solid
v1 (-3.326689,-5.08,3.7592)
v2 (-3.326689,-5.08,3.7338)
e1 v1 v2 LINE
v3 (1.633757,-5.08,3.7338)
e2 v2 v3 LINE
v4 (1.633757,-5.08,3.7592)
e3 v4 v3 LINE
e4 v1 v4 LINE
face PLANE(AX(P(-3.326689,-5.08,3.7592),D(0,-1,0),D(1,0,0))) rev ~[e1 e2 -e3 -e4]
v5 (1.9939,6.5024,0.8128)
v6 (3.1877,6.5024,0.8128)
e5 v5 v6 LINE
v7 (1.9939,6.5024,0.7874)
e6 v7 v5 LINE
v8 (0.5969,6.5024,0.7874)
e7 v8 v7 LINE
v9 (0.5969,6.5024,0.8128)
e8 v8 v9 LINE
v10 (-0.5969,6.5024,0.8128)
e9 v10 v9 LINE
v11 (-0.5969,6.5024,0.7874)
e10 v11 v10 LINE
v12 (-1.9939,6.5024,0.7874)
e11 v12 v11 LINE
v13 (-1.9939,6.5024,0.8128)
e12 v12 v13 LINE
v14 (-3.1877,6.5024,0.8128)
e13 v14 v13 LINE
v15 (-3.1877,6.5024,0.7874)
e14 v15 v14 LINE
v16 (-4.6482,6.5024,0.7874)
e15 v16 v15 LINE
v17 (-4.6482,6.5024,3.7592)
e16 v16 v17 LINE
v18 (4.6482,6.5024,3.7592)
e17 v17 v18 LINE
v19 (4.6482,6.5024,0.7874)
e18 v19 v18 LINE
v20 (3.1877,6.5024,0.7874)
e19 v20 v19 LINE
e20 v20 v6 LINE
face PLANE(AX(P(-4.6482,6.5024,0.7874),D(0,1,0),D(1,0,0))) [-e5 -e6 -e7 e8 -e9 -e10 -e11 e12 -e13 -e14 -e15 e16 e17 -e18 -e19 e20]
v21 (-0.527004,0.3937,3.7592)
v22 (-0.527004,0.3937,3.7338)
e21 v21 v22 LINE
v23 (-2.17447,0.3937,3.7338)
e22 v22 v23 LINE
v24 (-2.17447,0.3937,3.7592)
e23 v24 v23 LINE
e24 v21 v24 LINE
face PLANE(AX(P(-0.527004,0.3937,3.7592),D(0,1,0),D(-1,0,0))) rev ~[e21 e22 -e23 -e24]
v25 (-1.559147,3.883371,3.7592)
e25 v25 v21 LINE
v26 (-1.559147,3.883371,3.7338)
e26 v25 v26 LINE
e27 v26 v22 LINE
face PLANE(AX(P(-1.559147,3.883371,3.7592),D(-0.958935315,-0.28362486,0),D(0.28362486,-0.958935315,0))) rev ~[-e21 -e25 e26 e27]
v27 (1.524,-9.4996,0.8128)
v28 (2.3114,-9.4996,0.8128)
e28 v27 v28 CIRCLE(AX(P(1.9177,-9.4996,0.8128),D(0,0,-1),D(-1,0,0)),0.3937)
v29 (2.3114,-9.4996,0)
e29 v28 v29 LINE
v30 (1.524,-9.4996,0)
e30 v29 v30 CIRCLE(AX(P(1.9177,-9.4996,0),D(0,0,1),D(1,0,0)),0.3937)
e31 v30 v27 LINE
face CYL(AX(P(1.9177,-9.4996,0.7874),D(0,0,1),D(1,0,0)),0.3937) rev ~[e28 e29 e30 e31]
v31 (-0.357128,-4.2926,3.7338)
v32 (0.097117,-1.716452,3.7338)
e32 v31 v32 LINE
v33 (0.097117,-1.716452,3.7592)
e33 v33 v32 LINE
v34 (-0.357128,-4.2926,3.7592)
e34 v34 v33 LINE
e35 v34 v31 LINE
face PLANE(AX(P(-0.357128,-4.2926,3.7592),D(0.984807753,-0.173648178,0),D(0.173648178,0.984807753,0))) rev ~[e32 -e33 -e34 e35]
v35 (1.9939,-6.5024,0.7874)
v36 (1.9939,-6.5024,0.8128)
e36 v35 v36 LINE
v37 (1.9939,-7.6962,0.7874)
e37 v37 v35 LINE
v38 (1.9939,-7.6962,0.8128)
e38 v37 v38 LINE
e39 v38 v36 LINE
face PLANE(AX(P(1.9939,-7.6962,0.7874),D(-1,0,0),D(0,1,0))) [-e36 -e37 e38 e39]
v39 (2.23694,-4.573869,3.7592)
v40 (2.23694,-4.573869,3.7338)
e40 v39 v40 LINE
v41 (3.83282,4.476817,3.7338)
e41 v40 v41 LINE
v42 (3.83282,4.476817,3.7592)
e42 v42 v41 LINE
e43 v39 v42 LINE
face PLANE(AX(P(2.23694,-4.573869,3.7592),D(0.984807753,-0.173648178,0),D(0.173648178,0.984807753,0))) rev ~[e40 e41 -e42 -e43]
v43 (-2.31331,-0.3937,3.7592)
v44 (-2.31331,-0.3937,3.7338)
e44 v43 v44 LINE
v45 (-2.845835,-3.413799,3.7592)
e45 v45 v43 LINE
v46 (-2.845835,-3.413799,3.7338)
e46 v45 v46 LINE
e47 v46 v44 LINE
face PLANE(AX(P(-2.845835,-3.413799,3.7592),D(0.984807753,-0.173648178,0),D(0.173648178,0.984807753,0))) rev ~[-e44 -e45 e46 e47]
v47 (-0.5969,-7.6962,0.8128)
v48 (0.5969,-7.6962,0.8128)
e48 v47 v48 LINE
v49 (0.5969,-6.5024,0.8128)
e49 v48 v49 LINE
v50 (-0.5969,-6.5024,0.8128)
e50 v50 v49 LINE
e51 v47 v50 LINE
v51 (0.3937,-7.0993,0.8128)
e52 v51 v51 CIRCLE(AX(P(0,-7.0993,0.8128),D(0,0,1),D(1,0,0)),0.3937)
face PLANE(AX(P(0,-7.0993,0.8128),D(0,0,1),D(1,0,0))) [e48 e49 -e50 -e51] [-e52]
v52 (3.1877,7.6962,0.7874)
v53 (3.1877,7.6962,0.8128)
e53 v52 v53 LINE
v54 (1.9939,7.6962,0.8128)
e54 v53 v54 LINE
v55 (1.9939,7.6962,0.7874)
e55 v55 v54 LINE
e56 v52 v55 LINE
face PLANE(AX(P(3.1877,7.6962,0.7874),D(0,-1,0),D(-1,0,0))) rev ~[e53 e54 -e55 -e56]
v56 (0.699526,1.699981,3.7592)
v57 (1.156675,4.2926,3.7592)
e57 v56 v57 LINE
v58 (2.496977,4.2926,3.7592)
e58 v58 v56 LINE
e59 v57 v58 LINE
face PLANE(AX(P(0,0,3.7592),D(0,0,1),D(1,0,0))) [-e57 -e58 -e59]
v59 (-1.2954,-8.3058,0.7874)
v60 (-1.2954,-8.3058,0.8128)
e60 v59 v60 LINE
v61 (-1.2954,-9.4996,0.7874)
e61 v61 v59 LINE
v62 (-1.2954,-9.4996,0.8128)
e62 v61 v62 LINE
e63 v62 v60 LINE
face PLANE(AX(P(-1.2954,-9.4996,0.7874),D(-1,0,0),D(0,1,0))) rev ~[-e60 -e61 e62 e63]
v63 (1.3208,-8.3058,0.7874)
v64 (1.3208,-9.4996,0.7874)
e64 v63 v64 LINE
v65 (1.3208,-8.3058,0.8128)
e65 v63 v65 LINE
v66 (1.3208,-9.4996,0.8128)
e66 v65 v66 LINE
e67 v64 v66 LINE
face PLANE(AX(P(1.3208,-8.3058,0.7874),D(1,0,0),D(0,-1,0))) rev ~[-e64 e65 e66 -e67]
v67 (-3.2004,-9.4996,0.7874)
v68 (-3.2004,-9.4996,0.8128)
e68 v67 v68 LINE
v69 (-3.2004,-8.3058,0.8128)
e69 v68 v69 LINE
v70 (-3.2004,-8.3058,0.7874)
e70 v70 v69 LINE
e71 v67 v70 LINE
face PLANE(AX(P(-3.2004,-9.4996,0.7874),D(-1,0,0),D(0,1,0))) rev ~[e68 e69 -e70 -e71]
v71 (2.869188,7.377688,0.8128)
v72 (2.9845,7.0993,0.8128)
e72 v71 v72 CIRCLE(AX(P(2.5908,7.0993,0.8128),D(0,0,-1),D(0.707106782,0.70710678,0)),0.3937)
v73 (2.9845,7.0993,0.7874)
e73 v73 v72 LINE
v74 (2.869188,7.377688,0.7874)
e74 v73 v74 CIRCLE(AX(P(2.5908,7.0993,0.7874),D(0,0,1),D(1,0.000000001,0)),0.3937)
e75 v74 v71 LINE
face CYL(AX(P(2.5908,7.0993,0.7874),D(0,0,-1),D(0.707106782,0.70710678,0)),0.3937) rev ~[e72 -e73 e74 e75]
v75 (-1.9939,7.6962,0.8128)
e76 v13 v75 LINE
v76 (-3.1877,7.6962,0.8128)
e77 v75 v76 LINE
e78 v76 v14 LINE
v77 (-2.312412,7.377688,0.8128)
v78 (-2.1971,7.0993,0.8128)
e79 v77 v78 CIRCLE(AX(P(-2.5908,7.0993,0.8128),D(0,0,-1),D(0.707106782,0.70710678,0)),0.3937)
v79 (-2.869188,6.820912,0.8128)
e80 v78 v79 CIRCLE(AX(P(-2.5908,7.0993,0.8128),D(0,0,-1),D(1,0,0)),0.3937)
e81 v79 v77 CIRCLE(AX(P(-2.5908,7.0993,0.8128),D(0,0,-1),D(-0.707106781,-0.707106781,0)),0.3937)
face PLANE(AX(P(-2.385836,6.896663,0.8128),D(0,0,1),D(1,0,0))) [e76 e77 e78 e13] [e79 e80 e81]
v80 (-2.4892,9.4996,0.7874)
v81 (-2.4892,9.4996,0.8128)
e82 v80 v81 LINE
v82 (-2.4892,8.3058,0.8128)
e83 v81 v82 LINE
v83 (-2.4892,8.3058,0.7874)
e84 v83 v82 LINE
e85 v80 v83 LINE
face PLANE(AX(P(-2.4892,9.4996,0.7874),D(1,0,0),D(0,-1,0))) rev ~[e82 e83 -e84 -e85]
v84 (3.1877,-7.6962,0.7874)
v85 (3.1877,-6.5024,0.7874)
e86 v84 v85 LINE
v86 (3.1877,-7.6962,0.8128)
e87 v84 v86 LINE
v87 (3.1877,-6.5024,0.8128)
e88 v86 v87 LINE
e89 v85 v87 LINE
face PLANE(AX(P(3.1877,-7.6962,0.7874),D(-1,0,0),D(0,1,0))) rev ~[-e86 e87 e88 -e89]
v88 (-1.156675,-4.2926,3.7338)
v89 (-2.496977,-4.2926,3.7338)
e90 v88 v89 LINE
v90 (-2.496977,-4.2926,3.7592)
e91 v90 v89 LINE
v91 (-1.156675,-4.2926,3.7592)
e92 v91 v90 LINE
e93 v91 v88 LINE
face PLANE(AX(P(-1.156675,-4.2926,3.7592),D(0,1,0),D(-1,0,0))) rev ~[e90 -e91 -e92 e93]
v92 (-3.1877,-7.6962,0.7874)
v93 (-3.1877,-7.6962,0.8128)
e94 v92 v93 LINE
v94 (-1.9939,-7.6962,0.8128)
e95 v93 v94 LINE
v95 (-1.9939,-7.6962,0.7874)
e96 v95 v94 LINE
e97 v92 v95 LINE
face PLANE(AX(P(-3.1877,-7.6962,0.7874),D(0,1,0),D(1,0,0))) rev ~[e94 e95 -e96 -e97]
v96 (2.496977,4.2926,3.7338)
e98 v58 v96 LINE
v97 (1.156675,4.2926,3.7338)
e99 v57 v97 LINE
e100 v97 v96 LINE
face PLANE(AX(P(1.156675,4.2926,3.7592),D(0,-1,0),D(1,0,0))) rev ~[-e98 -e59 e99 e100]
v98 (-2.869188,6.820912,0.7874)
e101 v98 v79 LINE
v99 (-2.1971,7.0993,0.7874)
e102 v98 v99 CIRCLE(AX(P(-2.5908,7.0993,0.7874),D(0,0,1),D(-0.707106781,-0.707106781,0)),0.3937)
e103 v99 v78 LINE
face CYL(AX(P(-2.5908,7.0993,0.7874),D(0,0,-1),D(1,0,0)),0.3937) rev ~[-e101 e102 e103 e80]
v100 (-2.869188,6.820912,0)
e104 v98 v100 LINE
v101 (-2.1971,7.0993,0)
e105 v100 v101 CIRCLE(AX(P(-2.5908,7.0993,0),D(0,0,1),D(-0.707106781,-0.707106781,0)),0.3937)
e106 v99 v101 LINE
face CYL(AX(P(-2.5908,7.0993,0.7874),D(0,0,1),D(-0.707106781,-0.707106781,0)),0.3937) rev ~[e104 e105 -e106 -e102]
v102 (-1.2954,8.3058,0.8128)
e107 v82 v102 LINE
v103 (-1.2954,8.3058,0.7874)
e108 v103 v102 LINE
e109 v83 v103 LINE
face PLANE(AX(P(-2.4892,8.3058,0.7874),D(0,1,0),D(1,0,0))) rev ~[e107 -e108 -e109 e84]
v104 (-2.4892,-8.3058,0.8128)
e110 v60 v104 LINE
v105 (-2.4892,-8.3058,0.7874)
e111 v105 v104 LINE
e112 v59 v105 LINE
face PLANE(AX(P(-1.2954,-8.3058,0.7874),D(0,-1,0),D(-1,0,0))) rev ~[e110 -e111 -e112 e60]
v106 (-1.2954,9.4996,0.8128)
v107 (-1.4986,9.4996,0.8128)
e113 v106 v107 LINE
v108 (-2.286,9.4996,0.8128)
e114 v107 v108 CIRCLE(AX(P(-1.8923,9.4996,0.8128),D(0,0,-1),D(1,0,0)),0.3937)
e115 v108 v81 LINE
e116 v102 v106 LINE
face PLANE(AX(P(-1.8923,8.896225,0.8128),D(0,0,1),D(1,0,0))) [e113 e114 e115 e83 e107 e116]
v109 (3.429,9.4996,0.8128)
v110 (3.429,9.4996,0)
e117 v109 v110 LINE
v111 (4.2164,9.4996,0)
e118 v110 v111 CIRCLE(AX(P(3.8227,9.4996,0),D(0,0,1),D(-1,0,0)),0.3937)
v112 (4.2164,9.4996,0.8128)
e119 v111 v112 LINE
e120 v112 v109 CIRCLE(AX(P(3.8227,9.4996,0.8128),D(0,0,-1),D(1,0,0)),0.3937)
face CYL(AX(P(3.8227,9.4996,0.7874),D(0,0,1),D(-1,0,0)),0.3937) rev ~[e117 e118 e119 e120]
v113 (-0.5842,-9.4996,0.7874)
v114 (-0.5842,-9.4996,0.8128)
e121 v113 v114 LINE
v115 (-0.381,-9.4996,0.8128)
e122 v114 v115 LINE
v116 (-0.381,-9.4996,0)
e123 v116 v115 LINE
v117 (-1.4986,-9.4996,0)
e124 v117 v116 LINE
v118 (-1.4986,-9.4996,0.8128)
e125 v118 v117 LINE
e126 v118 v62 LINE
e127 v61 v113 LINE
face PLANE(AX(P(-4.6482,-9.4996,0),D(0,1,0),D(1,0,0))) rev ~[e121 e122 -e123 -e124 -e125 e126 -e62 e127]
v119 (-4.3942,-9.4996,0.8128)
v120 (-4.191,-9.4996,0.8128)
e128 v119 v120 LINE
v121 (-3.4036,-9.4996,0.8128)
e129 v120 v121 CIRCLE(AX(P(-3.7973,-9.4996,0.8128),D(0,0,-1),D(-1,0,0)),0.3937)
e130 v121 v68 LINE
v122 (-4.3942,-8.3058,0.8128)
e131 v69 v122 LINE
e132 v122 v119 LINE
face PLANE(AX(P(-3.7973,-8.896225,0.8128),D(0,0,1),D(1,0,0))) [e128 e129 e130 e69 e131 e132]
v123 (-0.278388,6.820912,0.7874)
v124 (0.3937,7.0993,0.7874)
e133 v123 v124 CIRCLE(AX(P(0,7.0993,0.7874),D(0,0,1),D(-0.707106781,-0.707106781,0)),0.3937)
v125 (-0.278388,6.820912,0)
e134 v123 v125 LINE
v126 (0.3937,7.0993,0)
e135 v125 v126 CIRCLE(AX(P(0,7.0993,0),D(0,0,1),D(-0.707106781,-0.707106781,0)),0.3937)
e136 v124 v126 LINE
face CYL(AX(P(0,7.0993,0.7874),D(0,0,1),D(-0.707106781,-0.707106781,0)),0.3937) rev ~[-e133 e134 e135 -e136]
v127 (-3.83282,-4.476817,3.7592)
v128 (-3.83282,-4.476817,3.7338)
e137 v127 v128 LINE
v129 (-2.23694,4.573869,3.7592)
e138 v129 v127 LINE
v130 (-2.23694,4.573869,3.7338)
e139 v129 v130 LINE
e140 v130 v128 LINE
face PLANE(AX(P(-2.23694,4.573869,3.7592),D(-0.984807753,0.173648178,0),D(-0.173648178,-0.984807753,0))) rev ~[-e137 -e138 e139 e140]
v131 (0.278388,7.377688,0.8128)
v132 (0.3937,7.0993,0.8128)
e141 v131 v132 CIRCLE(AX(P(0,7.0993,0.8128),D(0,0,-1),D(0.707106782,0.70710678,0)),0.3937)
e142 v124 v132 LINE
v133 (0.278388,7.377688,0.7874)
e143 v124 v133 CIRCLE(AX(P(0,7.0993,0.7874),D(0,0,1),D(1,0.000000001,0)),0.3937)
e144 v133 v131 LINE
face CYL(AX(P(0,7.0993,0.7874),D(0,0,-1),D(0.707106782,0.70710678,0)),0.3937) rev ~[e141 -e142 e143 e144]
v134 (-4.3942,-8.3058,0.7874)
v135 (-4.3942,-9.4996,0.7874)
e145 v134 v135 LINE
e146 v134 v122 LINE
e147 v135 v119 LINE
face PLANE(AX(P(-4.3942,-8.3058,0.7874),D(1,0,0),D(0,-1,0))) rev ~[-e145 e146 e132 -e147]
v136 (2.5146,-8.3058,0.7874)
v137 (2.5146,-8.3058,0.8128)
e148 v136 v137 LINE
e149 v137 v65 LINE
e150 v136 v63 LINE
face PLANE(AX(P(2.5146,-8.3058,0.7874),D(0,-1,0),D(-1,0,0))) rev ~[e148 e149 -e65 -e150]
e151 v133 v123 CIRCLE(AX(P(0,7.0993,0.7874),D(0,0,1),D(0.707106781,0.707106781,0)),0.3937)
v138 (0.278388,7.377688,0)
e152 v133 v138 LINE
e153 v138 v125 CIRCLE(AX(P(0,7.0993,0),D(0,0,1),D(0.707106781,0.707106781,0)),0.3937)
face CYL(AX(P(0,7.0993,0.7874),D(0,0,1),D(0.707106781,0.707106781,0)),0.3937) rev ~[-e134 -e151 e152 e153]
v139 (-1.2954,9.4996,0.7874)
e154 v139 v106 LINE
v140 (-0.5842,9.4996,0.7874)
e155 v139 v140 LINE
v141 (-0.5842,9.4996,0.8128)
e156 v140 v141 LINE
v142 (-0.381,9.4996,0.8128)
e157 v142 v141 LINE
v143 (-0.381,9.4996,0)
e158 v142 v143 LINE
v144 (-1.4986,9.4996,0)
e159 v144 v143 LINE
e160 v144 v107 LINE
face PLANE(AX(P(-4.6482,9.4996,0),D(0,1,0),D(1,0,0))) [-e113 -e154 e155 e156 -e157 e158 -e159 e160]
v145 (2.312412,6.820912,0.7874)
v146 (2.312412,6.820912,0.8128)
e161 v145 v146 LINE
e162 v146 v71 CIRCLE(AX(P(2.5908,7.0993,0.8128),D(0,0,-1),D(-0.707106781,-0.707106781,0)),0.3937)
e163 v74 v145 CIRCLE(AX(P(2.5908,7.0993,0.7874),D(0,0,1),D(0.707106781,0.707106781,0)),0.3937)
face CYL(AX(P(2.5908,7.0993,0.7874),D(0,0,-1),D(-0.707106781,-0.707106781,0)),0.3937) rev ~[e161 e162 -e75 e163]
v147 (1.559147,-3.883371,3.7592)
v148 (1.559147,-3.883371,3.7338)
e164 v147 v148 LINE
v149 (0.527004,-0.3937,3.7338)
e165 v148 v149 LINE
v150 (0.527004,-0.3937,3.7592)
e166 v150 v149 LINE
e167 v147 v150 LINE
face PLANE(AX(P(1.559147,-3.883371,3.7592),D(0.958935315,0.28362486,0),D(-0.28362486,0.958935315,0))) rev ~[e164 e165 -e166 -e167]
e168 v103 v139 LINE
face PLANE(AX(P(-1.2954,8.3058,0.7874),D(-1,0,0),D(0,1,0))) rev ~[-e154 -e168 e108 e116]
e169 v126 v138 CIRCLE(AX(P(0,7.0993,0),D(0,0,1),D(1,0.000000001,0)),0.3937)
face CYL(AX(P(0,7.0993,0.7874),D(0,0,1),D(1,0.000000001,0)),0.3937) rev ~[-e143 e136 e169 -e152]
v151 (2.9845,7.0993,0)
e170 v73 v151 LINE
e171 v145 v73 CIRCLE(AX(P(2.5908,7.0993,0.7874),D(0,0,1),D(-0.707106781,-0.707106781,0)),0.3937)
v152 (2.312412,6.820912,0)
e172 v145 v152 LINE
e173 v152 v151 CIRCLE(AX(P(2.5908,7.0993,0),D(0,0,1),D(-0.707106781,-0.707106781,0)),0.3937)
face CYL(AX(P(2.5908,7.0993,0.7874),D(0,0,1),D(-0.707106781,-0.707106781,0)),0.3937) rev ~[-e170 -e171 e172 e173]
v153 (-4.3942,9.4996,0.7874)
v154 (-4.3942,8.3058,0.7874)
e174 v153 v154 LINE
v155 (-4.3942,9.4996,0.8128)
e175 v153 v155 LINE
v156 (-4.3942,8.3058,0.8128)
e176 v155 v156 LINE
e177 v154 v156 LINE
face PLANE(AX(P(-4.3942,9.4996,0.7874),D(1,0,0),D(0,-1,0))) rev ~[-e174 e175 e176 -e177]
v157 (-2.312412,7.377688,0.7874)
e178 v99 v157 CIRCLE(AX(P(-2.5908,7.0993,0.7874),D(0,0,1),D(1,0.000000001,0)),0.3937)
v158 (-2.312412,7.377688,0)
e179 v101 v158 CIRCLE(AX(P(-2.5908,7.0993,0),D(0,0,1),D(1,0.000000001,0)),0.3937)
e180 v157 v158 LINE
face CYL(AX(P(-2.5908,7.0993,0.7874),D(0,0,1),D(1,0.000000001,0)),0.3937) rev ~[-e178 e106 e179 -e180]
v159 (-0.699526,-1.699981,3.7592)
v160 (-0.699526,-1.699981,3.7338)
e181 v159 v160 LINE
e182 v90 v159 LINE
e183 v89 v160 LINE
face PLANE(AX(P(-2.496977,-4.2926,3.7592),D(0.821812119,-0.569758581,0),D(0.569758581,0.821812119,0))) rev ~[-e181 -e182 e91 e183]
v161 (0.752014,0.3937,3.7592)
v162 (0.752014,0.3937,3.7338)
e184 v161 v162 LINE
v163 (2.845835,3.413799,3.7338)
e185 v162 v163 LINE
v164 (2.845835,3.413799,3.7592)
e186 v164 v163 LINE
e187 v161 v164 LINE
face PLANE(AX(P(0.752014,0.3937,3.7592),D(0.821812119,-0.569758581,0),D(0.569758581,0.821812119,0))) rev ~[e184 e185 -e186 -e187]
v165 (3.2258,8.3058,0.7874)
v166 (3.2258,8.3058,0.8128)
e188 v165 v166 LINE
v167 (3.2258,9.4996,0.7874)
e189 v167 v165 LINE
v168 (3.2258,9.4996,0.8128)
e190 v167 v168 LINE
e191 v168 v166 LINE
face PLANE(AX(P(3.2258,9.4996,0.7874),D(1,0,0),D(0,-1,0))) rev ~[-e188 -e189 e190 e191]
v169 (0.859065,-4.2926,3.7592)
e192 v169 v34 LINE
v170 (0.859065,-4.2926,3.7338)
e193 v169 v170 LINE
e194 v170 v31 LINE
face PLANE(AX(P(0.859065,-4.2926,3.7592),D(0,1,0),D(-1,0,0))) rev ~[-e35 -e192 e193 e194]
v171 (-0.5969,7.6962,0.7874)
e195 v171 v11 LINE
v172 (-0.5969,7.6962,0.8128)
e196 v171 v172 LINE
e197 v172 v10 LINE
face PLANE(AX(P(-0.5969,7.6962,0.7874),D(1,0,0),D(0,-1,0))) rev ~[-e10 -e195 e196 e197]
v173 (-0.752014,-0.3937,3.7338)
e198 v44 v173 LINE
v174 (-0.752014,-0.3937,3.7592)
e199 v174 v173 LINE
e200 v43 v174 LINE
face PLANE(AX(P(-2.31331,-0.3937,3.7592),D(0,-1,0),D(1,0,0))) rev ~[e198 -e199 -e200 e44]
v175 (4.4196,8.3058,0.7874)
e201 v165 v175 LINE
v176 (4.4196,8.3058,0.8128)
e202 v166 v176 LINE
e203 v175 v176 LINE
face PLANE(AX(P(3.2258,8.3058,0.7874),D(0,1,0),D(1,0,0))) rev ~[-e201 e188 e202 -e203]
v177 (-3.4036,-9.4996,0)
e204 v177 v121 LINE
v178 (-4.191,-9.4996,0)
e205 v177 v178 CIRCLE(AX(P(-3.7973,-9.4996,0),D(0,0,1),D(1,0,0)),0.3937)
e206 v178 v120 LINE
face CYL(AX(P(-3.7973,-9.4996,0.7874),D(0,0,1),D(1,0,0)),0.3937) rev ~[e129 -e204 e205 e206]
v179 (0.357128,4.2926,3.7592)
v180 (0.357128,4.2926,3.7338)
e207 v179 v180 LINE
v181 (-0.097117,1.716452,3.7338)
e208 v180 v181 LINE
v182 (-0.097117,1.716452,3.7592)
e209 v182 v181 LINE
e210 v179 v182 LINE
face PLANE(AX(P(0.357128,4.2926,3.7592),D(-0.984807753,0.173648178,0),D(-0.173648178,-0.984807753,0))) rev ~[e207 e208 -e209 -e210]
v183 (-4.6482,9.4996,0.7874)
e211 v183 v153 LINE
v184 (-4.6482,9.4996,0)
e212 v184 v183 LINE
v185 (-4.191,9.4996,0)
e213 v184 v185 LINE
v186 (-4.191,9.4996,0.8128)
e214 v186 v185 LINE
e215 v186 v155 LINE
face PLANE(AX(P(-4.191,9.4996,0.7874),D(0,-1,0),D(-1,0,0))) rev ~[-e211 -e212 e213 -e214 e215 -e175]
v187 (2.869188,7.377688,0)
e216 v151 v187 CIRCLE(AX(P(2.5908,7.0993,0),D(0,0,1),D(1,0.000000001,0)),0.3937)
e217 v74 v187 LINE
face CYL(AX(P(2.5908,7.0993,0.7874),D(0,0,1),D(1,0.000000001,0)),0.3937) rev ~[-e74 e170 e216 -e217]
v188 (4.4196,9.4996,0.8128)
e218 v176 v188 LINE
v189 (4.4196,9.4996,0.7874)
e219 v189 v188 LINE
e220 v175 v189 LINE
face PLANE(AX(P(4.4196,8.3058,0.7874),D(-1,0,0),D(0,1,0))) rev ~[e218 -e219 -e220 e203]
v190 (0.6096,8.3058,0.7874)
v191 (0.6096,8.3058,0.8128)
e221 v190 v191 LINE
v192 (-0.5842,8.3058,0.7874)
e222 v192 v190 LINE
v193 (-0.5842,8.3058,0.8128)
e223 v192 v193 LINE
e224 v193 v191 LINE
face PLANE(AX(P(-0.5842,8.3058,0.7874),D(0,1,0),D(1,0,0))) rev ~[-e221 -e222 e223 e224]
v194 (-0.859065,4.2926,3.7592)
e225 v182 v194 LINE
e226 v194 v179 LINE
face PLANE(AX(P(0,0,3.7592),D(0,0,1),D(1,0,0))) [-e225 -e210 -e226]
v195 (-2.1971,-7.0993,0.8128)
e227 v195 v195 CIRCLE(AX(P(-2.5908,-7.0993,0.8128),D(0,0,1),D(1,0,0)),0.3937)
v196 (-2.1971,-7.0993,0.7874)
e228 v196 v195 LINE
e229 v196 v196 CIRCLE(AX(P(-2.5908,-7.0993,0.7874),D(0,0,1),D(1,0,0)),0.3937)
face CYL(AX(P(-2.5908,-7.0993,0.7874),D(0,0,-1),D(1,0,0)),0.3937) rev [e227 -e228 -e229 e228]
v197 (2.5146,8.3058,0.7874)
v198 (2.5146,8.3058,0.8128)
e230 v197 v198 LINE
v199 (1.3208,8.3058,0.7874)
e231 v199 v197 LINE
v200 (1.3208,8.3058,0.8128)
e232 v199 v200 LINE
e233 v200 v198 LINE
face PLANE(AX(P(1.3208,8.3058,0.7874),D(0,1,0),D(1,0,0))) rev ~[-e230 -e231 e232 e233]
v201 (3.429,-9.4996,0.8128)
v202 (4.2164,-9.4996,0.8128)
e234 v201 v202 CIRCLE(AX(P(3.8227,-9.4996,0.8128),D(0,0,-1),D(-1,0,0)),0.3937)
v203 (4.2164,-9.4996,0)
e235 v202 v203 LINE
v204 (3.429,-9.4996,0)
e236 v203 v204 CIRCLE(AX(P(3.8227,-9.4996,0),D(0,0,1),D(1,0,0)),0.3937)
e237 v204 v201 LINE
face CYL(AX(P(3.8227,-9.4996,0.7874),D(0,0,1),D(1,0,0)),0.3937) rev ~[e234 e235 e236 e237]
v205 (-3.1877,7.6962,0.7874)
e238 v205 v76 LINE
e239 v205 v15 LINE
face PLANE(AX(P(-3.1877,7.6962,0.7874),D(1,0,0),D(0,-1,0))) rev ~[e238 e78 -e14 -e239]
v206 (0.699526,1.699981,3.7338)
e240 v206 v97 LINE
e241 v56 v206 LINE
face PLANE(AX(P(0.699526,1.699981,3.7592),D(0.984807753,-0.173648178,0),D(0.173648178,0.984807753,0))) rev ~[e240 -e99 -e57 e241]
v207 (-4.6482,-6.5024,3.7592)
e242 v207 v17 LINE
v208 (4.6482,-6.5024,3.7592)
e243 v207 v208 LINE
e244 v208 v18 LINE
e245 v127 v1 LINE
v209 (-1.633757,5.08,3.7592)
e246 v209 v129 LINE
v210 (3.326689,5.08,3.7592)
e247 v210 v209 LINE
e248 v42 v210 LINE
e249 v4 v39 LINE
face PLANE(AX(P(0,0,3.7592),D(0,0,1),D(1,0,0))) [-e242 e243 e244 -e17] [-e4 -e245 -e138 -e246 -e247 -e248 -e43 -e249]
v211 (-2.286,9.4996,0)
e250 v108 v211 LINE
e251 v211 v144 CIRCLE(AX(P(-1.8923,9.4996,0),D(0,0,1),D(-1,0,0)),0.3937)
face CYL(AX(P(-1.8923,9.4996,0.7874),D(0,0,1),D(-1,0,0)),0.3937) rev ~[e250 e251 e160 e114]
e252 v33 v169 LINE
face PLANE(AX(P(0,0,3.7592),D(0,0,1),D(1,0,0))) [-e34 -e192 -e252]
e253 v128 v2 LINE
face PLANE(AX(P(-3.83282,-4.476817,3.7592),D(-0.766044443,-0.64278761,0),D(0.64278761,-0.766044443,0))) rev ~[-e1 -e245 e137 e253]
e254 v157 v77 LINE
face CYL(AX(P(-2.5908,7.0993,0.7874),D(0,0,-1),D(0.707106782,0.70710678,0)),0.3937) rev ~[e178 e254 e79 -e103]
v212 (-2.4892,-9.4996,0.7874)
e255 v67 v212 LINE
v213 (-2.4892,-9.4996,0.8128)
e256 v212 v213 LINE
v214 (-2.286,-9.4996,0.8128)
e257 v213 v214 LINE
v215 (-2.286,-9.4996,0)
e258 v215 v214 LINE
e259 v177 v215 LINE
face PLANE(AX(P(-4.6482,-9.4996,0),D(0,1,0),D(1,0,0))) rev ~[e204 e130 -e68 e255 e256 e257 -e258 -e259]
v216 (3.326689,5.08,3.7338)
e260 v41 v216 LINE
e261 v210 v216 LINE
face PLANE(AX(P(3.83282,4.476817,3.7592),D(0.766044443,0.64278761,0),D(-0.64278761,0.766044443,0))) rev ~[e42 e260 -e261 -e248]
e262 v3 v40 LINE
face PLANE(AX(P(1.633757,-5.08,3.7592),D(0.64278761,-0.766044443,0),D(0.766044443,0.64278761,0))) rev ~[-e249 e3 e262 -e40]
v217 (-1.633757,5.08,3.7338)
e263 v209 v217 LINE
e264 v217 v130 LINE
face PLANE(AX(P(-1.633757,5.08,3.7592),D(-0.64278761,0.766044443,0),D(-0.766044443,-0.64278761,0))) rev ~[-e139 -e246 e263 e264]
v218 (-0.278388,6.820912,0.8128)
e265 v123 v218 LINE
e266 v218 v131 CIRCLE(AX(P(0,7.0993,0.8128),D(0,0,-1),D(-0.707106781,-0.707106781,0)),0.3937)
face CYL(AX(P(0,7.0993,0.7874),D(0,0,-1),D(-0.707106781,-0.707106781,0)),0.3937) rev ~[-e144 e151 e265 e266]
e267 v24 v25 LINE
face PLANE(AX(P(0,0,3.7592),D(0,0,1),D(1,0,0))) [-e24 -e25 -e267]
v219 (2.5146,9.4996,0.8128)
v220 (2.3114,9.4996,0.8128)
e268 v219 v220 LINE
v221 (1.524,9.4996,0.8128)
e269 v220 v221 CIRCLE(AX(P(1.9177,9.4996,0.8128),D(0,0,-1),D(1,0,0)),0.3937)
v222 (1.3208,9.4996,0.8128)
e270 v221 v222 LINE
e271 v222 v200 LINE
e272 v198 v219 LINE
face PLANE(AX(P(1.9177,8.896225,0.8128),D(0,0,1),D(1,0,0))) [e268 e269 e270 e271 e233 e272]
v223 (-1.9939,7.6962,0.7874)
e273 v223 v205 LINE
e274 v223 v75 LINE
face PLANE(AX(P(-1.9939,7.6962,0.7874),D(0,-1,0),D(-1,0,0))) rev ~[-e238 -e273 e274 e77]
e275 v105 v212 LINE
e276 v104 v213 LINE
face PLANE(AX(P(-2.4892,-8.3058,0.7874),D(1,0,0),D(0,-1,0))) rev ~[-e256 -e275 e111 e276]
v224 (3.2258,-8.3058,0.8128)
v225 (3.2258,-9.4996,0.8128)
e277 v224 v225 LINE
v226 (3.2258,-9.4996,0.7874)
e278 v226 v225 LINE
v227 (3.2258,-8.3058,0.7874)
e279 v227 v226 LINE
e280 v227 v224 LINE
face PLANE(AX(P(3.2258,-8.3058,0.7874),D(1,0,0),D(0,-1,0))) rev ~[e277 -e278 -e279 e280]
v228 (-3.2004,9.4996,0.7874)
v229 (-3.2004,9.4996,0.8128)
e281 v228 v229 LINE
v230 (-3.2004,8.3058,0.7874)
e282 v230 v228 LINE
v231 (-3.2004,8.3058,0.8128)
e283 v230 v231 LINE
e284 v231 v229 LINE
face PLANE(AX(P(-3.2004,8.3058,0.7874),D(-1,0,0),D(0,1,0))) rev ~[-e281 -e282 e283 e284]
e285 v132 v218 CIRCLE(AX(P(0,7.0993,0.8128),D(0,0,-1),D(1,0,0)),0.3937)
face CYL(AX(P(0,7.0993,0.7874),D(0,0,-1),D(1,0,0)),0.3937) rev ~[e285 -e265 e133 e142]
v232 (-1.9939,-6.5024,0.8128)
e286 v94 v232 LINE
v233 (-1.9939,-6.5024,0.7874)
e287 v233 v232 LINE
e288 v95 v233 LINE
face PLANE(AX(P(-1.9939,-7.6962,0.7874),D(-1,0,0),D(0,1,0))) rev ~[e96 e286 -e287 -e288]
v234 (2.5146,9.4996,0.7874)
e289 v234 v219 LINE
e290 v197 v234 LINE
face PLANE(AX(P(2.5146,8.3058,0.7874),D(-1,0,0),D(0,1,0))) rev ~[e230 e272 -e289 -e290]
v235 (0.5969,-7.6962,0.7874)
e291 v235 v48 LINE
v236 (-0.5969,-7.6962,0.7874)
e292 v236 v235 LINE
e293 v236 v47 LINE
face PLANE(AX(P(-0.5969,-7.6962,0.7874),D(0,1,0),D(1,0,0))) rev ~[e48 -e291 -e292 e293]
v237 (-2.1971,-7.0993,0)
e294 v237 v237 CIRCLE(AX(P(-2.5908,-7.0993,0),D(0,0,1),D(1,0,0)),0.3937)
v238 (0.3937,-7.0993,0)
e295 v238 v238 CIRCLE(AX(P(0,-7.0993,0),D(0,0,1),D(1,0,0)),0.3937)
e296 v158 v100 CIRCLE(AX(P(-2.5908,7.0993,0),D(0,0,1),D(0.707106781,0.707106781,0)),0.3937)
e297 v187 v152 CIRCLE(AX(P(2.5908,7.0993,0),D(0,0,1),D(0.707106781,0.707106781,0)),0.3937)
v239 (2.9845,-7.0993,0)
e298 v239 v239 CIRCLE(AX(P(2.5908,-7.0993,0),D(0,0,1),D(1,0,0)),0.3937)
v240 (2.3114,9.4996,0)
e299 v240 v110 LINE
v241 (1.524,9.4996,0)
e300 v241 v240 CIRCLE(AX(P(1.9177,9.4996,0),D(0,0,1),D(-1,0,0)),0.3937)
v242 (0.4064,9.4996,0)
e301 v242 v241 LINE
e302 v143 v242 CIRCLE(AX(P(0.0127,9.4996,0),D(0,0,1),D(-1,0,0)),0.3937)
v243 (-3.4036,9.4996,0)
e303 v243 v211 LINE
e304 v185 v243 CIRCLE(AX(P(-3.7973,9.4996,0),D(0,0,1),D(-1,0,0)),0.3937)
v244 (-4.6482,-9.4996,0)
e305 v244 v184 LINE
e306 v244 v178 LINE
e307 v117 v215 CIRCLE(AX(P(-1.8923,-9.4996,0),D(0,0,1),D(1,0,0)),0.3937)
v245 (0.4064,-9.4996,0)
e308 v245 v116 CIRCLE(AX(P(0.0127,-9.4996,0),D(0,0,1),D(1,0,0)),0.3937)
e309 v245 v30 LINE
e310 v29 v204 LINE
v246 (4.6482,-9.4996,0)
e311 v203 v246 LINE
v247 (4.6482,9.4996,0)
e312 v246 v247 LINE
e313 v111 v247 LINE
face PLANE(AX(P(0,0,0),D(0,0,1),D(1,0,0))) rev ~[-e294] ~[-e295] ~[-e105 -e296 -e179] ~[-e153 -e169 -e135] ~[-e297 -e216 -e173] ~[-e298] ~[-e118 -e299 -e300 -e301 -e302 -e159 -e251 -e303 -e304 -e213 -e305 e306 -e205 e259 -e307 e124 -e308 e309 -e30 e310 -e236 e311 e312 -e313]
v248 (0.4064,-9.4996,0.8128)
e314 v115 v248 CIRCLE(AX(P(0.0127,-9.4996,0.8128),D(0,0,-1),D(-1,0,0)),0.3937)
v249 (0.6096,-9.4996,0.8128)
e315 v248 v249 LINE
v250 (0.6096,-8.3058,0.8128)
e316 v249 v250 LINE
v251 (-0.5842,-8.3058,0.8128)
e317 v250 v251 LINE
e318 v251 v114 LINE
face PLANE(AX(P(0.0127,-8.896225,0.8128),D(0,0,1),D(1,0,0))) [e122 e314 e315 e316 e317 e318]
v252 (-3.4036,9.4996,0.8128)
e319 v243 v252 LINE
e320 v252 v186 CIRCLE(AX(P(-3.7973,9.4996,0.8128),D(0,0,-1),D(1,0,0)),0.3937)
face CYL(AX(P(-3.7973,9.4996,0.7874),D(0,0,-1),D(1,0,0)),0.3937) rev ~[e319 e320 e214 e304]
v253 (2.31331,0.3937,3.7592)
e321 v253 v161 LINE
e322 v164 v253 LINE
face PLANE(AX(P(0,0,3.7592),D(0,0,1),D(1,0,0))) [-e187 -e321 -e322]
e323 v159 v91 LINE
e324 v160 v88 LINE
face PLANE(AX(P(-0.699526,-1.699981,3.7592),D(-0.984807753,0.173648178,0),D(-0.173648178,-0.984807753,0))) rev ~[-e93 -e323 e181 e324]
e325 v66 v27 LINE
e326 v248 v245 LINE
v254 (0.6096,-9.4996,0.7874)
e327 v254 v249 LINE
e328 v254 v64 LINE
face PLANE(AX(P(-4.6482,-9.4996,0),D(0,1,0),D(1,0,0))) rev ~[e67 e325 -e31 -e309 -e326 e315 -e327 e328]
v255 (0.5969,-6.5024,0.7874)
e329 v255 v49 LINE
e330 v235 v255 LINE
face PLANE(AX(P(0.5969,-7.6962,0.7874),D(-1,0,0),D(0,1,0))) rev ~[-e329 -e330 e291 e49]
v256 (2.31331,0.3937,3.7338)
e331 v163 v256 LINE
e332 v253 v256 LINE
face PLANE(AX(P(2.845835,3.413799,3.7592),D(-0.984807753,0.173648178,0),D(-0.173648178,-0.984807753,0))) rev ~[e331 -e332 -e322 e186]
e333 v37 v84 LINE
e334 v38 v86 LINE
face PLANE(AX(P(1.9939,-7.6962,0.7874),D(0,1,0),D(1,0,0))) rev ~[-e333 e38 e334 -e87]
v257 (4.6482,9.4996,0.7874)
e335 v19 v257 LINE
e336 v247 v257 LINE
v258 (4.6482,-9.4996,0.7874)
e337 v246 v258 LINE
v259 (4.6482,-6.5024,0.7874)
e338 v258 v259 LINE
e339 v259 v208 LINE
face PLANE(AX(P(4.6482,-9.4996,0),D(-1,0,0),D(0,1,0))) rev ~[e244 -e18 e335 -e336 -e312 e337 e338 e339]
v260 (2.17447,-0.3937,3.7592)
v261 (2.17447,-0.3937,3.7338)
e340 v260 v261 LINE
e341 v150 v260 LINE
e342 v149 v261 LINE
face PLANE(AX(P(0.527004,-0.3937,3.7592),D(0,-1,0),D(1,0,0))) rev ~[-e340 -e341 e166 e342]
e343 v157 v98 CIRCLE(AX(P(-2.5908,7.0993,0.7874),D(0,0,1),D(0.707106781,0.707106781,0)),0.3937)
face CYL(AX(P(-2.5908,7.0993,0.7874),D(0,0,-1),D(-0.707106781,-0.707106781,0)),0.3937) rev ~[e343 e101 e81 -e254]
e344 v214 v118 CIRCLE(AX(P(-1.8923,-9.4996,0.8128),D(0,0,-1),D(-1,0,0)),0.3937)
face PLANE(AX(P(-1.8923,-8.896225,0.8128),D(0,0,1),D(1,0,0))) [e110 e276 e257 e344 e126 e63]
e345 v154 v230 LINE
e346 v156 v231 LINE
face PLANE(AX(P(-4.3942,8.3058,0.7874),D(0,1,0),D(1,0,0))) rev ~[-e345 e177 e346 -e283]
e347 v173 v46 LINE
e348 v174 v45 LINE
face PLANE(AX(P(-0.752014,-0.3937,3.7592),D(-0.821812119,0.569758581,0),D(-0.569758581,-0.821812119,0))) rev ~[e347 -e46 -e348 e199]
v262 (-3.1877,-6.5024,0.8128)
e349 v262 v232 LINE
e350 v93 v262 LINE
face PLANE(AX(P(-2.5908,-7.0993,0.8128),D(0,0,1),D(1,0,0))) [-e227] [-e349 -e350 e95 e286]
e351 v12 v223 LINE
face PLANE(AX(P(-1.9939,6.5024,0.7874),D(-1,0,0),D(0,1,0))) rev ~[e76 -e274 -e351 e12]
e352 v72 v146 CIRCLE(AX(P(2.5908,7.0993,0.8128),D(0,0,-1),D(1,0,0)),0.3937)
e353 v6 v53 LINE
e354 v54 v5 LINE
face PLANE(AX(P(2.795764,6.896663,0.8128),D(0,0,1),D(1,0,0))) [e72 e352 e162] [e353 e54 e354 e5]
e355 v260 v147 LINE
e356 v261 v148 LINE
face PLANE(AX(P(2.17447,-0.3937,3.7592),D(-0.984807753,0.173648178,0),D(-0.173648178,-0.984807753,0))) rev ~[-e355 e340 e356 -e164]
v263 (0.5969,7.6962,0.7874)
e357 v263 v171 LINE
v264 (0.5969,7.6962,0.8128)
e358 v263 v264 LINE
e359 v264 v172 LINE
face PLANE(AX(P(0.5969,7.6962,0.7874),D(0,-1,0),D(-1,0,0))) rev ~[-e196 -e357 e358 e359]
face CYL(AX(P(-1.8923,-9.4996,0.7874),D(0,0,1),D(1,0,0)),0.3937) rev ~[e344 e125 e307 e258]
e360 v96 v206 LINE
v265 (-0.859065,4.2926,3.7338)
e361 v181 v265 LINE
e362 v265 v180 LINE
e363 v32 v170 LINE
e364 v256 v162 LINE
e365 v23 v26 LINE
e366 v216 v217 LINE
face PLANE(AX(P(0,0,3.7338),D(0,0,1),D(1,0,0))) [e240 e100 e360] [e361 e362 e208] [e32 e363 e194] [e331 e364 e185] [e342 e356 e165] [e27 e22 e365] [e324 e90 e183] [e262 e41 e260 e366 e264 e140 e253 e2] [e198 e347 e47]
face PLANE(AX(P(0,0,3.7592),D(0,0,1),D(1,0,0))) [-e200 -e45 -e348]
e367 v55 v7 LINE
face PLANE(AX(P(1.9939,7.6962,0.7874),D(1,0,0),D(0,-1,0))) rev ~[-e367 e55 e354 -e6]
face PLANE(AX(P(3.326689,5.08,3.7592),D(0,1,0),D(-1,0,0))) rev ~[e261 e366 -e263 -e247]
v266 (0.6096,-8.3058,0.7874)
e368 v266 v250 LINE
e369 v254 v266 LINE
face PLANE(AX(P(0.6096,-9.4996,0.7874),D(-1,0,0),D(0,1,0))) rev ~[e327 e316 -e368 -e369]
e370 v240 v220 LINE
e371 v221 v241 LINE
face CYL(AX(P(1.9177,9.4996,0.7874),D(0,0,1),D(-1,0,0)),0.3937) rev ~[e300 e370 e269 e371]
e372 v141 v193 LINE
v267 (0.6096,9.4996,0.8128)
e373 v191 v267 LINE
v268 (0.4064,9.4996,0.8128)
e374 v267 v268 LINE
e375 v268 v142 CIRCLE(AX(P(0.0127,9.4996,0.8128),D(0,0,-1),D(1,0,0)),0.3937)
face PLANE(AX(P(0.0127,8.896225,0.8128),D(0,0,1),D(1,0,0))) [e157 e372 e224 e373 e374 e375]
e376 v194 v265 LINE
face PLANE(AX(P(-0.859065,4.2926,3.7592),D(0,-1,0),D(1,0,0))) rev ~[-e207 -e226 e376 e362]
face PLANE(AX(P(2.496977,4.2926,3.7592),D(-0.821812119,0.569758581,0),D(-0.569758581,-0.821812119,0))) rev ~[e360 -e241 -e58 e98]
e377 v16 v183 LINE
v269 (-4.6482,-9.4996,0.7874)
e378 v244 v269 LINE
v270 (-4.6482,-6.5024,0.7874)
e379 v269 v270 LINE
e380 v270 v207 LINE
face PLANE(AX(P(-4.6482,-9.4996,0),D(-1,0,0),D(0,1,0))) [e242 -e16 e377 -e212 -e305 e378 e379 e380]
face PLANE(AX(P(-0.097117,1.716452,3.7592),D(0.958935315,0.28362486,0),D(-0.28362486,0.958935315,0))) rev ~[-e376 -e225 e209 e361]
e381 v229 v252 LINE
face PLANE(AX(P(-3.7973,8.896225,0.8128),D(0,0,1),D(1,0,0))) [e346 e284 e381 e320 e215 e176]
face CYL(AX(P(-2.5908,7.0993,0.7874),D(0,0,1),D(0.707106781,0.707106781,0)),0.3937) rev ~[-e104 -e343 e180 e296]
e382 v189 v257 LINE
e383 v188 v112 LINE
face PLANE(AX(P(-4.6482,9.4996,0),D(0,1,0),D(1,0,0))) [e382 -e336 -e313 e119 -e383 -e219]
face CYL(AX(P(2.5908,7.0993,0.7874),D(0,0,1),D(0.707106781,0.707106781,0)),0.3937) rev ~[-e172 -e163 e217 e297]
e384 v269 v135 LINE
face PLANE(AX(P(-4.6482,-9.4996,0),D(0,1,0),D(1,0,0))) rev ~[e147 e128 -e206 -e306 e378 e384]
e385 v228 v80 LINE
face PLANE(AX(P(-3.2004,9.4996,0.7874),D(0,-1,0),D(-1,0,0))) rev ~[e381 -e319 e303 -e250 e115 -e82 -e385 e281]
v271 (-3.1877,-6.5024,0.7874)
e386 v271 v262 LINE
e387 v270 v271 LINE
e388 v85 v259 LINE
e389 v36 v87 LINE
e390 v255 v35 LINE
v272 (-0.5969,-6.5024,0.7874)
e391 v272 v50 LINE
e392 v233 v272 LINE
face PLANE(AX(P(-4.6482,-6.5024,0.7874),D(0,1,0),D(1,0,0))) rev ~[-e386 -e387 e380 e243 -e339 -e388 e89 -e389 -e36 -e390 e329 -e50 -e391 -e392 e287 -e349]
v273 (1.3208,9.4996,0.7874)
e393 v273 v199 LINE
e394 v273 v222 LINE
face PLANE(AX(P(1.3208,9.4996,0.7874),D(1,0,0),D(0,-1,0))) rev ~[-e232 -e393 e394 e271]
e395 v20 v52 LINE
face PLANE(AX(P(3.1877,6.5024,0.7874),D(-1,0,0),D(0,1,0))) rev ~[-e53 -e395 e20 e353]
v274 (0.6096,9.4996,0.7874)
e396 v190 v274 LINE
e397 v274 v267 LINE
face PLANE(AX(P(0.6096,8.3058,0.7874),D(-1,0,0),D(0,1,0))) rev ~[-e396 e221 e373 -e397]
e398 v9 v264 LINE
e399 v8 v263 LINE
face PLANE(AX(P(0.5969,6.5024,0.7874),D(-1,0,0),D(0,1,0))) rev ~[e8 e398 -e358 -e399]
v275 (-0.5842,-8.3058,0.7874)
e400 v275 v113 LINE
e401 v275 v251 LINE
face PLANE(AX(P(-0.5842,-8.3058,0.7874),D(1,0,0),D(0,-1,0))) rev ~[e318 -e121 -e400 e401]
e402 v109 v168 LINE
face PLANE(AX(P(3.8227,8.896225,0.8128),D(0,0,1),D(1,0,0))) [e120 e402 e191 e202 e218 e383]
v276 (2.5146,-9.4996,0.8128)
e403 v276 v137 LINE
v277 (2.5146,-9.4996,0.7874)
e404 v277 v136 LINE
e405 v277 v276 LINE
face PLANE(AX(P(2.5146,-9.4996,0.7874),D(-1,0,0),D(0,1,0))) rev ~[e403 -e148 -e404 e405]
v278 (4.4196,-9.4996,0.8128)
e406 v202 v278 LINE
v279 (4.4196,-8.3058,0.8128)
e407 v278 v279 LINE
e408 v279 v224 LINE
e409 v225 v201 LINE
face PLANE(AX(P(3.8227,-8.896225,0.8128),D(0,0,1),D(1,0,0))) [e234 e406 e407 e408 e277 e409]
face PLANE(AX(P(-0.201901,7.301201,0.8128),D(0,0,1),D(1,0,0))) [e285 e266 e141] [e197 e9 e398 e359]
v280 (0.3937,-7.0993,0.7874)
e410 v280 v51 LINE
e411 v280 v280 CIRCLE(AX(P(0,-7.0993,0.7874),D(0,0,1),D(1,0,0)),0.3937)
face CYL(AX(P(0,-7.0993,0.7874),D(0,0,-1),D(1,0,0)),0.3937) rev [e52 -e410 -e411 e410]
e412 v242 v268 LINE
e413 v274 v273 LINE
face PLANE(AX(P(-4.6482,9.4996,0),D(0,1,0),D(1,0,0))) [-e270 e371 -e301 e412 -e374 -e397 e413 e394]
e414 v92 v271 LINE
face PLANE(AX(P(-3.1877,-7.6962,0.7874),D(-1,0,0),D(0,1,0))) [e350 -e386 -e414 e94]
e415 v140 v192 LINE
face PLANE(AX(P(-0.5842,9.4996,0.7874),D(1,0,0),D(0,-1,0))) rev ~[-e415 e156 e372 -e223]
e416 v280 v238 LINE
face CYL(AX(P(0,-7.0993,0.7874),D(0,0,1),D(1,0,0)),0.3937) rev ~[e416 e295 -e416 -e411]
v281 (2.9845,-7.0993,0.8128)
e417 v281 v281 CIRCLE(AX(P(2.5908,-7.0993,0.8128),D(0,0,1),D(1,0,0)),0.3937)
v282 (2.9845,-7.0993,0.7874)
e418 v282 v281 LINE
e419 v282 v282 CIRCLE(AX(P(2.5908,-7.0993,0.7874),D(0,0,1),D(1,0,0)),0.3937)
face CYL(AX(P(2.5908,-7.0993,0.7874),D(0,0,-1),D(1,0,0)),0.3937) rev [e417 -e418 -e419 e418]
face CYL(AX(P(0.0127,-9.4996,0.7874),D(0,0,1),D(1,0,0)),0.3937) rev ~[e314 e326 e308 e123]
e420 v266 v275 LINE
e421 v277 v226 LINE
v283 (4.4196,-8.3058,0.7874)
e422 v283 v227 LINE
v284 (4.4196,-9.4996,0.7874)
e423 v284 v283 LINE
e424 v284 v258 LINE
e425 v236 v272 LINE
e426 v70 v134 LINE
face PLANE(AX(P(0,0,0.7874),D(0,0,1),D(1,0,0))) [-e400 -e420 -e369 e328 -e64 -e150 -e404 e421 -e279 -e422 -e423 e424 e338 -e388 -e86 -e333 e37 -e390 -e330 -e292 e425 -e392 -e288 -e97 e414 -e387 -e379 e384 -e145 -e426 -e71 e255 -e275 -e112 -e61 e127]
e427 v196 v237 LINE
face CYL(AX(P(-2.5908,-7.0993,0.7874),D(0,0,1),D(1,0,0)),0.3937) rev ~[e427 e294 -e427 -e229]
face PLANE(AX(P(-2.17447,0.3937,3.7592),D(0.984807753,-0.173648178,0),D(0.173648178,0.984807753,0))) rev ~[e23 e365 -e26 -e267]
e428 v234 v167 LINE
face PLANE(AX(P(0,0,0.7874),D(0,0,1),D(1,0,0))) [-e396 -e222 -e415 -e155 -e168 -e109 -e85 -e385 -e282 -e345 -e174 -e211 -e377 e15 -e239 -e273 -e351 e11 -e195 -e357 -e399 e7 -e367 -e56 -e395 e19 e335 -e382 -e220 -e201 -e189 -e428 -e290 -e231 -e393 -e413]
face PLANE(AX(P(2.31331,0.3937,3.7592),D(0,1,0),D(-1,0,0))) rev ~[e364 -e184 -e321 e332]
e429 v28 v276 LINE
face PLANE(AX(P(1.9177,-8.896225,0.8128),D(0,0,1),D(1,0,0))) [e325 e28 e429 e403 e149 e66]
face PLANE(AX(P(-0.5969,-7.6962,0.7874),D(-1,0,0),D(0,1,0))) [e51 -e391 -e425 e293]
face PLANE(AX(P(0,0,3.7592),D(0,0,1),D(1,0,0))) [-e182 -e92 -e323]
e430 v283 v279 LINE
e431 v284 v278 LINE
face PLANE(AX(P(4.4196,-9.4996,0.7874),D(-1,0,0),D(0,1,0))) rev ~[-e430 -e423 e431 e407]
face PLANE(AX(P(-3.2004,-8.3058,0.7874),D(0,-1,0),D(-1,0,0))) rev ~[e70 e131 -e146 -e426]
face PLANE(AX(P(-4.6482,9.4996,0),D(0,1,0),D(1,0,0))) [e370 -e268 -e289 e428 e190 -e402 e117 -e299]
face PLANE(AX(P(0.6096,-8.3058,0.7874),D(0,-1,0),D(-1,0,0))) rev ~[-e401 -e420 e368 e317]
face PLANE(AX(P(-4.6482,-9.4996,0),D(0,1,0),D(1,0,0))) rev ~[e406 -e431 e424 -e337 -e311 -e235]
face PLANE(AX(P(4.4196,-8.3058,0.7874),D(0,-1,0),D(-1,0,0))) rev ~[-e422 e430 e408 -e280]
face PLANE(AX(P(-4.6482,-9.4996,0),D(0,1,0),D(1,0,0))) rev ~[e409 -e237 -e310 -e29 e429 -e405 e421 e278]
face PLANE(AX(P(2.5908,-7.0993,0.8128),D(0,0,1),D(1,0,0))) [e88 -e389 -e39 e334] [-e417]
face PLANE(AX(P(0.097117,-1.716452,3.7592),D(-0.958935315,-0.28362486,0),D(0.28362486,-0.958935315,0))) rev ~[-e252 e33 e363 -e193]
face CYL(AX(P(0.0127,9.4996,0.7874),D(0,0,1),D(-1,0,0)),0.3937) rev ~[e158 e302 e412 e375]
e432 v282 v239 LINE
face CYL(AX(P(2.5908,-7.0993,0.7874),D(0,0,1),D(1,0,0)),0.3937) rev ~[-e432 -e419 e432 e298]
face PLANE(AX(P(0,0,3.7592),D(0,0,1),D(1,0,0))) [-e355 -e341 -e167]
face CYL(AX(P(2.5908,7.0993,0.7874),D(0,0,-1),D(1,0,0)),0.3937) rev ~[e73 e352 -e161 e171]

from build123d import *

# Parameters (mm, degrees)
F0_W     = 9.2964
F0_H     = 18.9992
F1_DEPTH = 0.7874
F2_W     = 9.2964
F2_H     = 13.0048
F3_DEPTH = 2.9718
F4_R     = 0.3937
F5_DEPTH = 25.4
F4_W     = 1.1938
F4_H     = 1.1938
F6_DEPTH = 0.0254
F8_DEPTH = 0.0254


with BuildPart() as f1:
    # F0 (on Top) → F1 (new body)
    with BuildSketch(Plane.XY):
        Rectangle(F0_W, F0_H)
    extrude(amount=F1_DEPTH)

    # F2 (on face) → F3 (join)
    with BuildSketch(Plane.XY.offset(0.7874)):
        Rectangle(F2_W, F2_H)
    extrude(amount=F3_DEPTH)

    # F4 (on face) → F5 (cut)
    with BuildSketch(Plane.XY.offset(0.7874)):
        with BuildLine():
            ThreePointArc((-3.4036, -9.4996), (-3.7973, -9.1059), (-4.191, -9.4996))
            Line((-4.191, -9.4996), (-3.4036, -9.4996))
        make_face()
        with BuildLine():
            ThreePointArc((-1.4986, -9.4996), (-1.8923, -9.1059), (-2.286, -9.4996))
            Line((-2.286, -9.4996), (-1.4986, -9.4996))
        make_face()
        with BuildLine():
            ThreePointArc((0.4064, -9.4996), (0.0127, -9.1059), (-0.381, -9.4996))
            Line((-0.381, -9.4996), (0.4064, -9.4996))
        make_face()
        with BuildLine():
            ThreePointArc((2.3114, -9.4996), (1.9177, -9.1059), (1.524, -9.4996))
            Line((1.524, -9.4996), (2.3114, -9.4996))
        make_face()
        with BuildLine():
            Line((3.429, -9.4996), (4.2164, -9.4996))
            ThreePointArc((4.2164, -9.4996), (3.8227, -9.1059), (3.429, -9.4996))
        make_face()
        with Locations((2.5908, -7.0993)):
            Circle(F4_R)
        with Locations((0, -7.0993)):
            Circle(F4_R)
        with Locations((-2.5908, -7.0993)):
            Circle(F4_R)
        with BuildLine():
            ThreePointArc((-2.3124120602, 7.3776879398), (-2.8691879398, 7.3776879398), (-2.8691879398, 6.8209120602))
            Line((-2.8691879398, 6.8209120602), (-2.3124120602, 7.3776879398))
        make_face()
        with BuildLine():
            Line((-2.3124120602, 7.3776879398), (-2.8691879398, 6.8209120602))
            ThreePointArc((-2.8691879398, 6.8209120602), (-2.4401375327, 6.7355686281), (-2.1971, 7.0993))
            ThreePointArc((-2.1971, 7.0993), (-2.2270686281, 7.2499624673), (-2.3124120602, 7.3776879398))
        make_face()
        with BuildLine():
            ThreePointArc((0.2783879398, 7.3776879398), (-0.2783879398, 7.3776879398), (-0.2783879398, 6.8209120602))
            Line((-0.2783879398, 6.8209120602), (0.2783879398, 7.3776879398))
        make_face()
        with BuildLine():
            Line((0.2783879398, 7.3776879398), (-0.2783879398, 6.8209120602))
            ThreePointArc((-0.2783879398, 6.8209120602), (0.1506624673, 6.7355686281), (0.3937, 7.0993))
            ThreePointArc((0.3937, 7.0993), (0.3637313719, 7.2499624673), (0.2783879398, 7.3776879398))
        make_face()
        with BuildLine():
            ThreePointArc((2.8691879398, 7.3776879398), (2.3124120602, 7.3776879398), (2.3124120602, 6.8209120602))
            Line((2.3124120602, 6.8209120602), (2.8691879398, 7.3776879398))
        make_face()
        with BuildLine():
            Line((2.8691879398, 7.3776879398), (2.3124120602, 6.8209120602))
            ThreePointArc((2.3124120602, 6.8209120602), (2.7414624673, 6.7355686281), (2.9845, 7.0993))
            ThreePointArc((2.9845, 7.0993), (2.9545313719, 7.2499624673), (2.8691879398, 7.3776879398))
        make_face()
        with BuildLine():
            ThreePointArc((-4.191, 9.4996), (-3.7973, 9.1059), (-3.4036, 9.4996))
            Line((-3.4036, 9.4996), (-4.191, 9.4996))
        make_face()
        with BuildLine():
            ThreePointArc((-2.286, 9.4996), (-1.8923, 9.1059), (-1.4986, 9.4996))
            Line((-1.4986, 9.4996), (-2.286, 9.4996))
        make_face()
        with BuildLine():
            Line((0.4064, 9.4996), (-0.381, 9.4996))
            ThreePointArc((-0.381, 9.4996), (0.0127, 9.1059), (0.4064, 9.4996))
        make_face()
        with BuildLine():
            Line((2.3114, 9.4996), (1.524, 9.4996))
            ThreePointArc((1.524, 9.4996), (1.9177, 9.1059), (2.3114, 9.4996))
        make_face()
        with BuildLine():
            Line((4.2164, 9.4996), (3.429, 9.4996))
            ThreePointArc((3.429, 9.4996), (3.8227, 9.1059), (4.2164, 9.4996))
        make_face()
    extrude(amount=-F5_DEPTH, mode=Mode.SUBTRACT)

    # F4 (on face) → F6 (join)
    with BuildSketch(Plane.XY.offset(0.7874)):
        with BuildLine():
            Line((-4.3942, 8.3058), (-3.2004, 8.3058))
            Line((-3.2004, 8.3058), (-3.2004, 9.4996))
            Line((-3.2004, 9.4996), (-3.4036, 9.4996))
            ThreePointArc((-3.4036, 9.4996), (-3.7973, 9.1059), (-4.191, 9.4996))
            Line((-4.191, 9.4996), (-4.3942, 9.4996))
            Line((-4.3942, 9.4996), (-4.3942, 8.3058))
        make_face()
        with BuildLine():
            Line((-1.2954, 9.4996), (-1.4986, 9.4996))
            ThreePointArc((-1.4986, 9.4996), (-1.8923, 9.1059), (-2.286, 9.4996))
            Line((-2.286, 9.4996), (-2.4892, 9.4996))
            Line((-2.4892, 9.4996), (-2.4892, 8.3058))
            Line((-2.4892, 8.3058), (-1.2954, 8.3058))
            Line((-1.2954, 8.3058), (-1.2954, 9.4996))
        make_face()
        with BuildLine():
            Line((-0.381, 9.4996), (-0.5842, 9.4996))
            Line((-0.5842, 9.4996), (-0.5842, 8.3058))
            Line((-0.5842, 8.3058), (0.6096, 8.3058))
            Line((0.6096, 8.3058), (0.6096, 9.4996))
            Line((0.6096, 9.4996), (0.4064, 9.4996))
            ThreePointArc((0.4064, 9.4996), (0.0127, 9.1059), (-0.381, 9.4996))
        make_face()
        with BuildLine():
            Line((1.524, 9.4996), (1.3208, 9.4996))
            Line((1.3208, 9.4996), (1.3208, 8.3058))
            Line((1.3208, 8.3058), (2.5146, 8.3058))
            Line((2.5146, 8.3058), (2.5146, 9.4996))
            Line((2.5146, 9.4996), (2.3114, 9.4996))
            ThreePointArc((2.3114, 9.4996), (1.9177, 9.1059), (1.524, 9.4996))
        make_face()
        with BuildLine():
            Line((3.429, 9.4996), (3.2258, 9.4996))
            Line((3.2258, 9.4996), (3.2258, 8.3058))
            Line((3.2258, 8.3058), (4.4196, 8.3058))
            Line((4.4196, 8.3058), (4.4196, 9.4996))
            Line((4.4196, 9.4996), (4.2164, 9.4996))
            ThreePointArc((4.2164, 9.4996), (3.8227, 9.1059), (3.429, 9.4996))
        make_face()
        with BuildLine():
            Line((-2.4892, -8.3058), (-2.4892, -9.4996))
            Line((-2.4892, -9.4996), (-2.286, -9.4996))
            ThreePointArc((-2.286, -9.4996), (-1.8923, -9.1059), (-1.4986, -9.4996))
            Line((-1.4986, -9.4996), (-1.2954, -9.4996))
            Line((-1.2954, -9.4996), (-1.2954, -8.3058))
            Line((-1.2954, -8.3058), (-2.4892, -8.3058))
        make_face()
        with BuildLine():
            Line((-4.3942, -8.3058), (-4.3942, -9.4996))
            Line((-4.3942, -9.4996), (-4.191, -9.4996))
            ThreePointArc((-4.191, -9.4996), (-3.7973, -9.1059), (-3.4036, -9.4996))
            Line((-3.4036, -9.4996), (-3.2004, -9.4996))
            Line((-3.2004, -9.4996), (-3.2004, -8.3058))
            Line((-3.2004, -8.3058), (-4.3942, -8.3058))
        make_face()
        with BuildLine():
            Line((-0.5842, -8.3058), (-0.5842, -9.4996))
            Line((-0.5842, -9.4996), (-0.381, -9.4996))
            ThreePointArc((-0.381, -9.4996), (0.0127, -9.1059), (0.4064, -9.4996))
            Line((0.4064, -9.4996), (0.6096, -9.4996))
            Line((0.6096, -9.4996), (0.6096, -8.3058))
            Line((0.6096, -8.3058), (-0.5842, -8.3058))
        make_face()
        with BuildLine():
            Line((1.3208, -8.3058), (1.3208, -9.4996))
            Line((1.3208, -9.4996), (1.524, -9.4996))
            ThreePointArc((1.524, -9.4996), (1.9177, -9.1059), (2.3114, -9.4996))
            Line((2.3114, -9.4996), (2.5146, -9.4996))
            Line((2.5146, -9.4996), (2.5146, -8.3058))
            Line((2.5146, -8.3058), (1.3208, -8.3058))
        make_face()
        with BuildLine():
            Line((4.2164, -9.4996), (4.4196, -9.4996))
            Line((4.4196, -9.4996), (4.4196, -8.3058))
            Line((4.4196, -8.3058), (3.2258, -8.3058))
            Line((3.2258, -8.3058), (3.2258, -9.4996))
            Line((3.2258, -9.4996), (3.429, -9.4996))
            ThreePointArc((3.429, -9.4996), (3.8227, -9.1059), (4.2164, -9.4996))
        make_face()
        with Locations((2.5908, -7.0993)):
            Rectangle(F4_W, F4_H)
        with Locations((2.5908, -7.0993)):
            Circle(F4_R, mode=Mode.SUBTRACT)
        with Locations((0, -7.0993)):
            Rectangle(F4_W, F4_H)
        with Locations((0, -7.0993)):
            Circle(F4_R, mode=Mode.SUBTRACT)
        with Locations((-2.5908, -7.0993)):
            Rectangle(F4_W, F4_H)
        with Locations((-2.5908, -7.0993)):
            Circle(F4_R, mode=Mode.SUBTRACT)
        with BuildLine():
            Line((-2.8691879398, 6.8209120602), (-3.1877, 6.5024))
            Line((-3.1877, 6.5024), (-1.9939, 6.5024))
            Line((-1.9939, 6.5024), (-1.9939, 7.6962))
            Line((-1.9939, 7.6962), (-2.3124120602, 7.3776879398))
            ThreePointArc((-2.3124120602, 7.3776879398), (-2.2270686281, 7.2499624673), (-2.1971, 7.0993))
            ThreePointArc((-2.1971, 7.0993), (-2.4401375327, 6.7355686281), (-2.8691879398, 6.8209120602))
        make_face()
        with BuildLine():
            Line((0.5969, 7.6962), (-0.5969, 7.6962))
            Line((-0.5969, 7.6962), (-0.5969, 6.5024))
            Line((-0.5969, 6.5024), (-0.2783879398, 6.8209120602))
            ThreePointArc((-0.2783879398, 6.8209120602), (-0.2783879398, 7.3776879398), (0.2783879398, 7.3776879398))
            Line((0.2783879398, 7.3776879398), (0.5969, 7.6962))
        make_face()
        with BuildLine():
            Line((-0.2783879398, 6.8209120602), (-0.5969, 6.5024))
            Line((-0.5969, 6.5024), (0.5969, 6.5024))
            Line((0.5969, 6.5024), (0.5969, 7.6962))
            Line((0.5969, 7.6962), (0.2783879398, 7.3776879398))
            ThreePointArc((0.2783879398, 7.3776879398), (0.3637313719, 7.2499624673), (0.3937, 7.0993))
            ThreePointArc((0.3937, 7.0993), (0.1506624673, 6.7355686281), (-0.2783879398, 6.8209120602))
        make_face()
        with BuildLine():
            Line((2.3124120602, 6.8209120602), (1.9939, 6.5024))
            Line((1.9939, 6.5024), (3.1877, 6.5024))
            Line((3.1877, 6.5024), (3.1877, 7.6962))
            Line((3.1877, 7.6962), (2.8691879398, 7.3776879398))
            ThreePointArc((2.8691879398, 7.3776879398), (2.9545313719, 7.2499624673), (2.9845, 7.0993))
            ThreePointArc((2.9845, 7.0993), (2.7414624673, 6.7355686281), (2.3124120602, 6.8209120602))
        make_face()
        with BuildLine():
            Line((-3.1877, 7.6962), (-3.1877, 6.5024))
            Line((-3.1877, 6.5024), (-2.8691879398, 6.8209120602))
            ThreePointArc((-2.8691879398, 6.8209120602), (-2.8691879398, 7.3776879398), (-2.3124120602, 7.3776879398))
            Line((-2.3124120602, 7.3776879398), (-1.9939, 7.6962))
            Line((-1.9939, 7.6962), (-3.1877, 7.6962))
        make_face()
        with BuildLine():
            Line((1.9939, 7.6962), (1.9939, 6.5024))
            Line((1.9939, 6.5024), (2.3124120602, 6.8209120602))
            ThreePointArc((2.3124120602, 6.8209120602), (2.3124120602, 7.3776879398), (2.8691879398, 7.3776879398))
            Line((2.8691879398, 7.3776879398), (3.1877, 7.6962))
            Line((3.1877, 7.6962), (1.9939, 7.6962))
        make_face()
    extrude(amount=F6_DEPTH)

    # F7 (on face) → F8 (cut)
    with BuildSketch(Plane.XY.offset(3.7592)):
        Polygon((-1.6337567293, 5.08), (-2.2369401238, 4.5738690361), (-3.8328201964, -4.4768166055), (-3.3266892325, -5.08), (1.6337567293, -5.08), (2.2369401238, -4.5738690361), (3.8328201964, 4.4768166055), (3.3266892325, 5.08), align=None)
        Polygon((-0.6995260408, -1.6999813781), (-1.1566746545, -4.2926), (-2.496976666, -4.2926), align=None, mode=Mode.SUBTRACT)
        Polygon((-0.7520136768, -0.3937), (-2.8458346333, -3.4137992041), (-2.3133096593, -0.3937), align=None, mode=Mode.SUBTRACT)
        Polygon((0.097116606, -1.716452297), (0.8590653228, -4.2926), (-0.3571277403, -4.2926), align=None, mode=Mode.SUBTRACT)
        Polygon((2.1744697946, -0.3937), (1.5591465579, -3.8833714858), (0.5270043762, -0.3937), align=None, mode=Mode.SUBTRACT)
        Polygon((-2.1744697946, 0.3937), (-1.5591465579, 3.8833714858), (-0.5270043762, 0.3937), align=None, mode=Mode.SUBTRACT)
        Polygon((-0.8590653228, 4.2926), (0.3571277403, 4.2926), (-0.097116606, 1.716452297), align=None, mode=Mode.SUBTRACT)
        Polygon((2.8458346333, 3.4137992041), (2.3133096593, 0.3937), (0.7520136768, 0.3937), align=None, mode=Mode.SUBTRACT)
        Polygon((1.1566746545, 4.2926), (2.496976666, 4.2926), (0.6995260408, 1.6999813781), align=None, mode=Mode.SUBTRACT)
    extrude(amount=-F8_DEPTH, mode=Mode.SUBTRACT)


solid = f1.part
